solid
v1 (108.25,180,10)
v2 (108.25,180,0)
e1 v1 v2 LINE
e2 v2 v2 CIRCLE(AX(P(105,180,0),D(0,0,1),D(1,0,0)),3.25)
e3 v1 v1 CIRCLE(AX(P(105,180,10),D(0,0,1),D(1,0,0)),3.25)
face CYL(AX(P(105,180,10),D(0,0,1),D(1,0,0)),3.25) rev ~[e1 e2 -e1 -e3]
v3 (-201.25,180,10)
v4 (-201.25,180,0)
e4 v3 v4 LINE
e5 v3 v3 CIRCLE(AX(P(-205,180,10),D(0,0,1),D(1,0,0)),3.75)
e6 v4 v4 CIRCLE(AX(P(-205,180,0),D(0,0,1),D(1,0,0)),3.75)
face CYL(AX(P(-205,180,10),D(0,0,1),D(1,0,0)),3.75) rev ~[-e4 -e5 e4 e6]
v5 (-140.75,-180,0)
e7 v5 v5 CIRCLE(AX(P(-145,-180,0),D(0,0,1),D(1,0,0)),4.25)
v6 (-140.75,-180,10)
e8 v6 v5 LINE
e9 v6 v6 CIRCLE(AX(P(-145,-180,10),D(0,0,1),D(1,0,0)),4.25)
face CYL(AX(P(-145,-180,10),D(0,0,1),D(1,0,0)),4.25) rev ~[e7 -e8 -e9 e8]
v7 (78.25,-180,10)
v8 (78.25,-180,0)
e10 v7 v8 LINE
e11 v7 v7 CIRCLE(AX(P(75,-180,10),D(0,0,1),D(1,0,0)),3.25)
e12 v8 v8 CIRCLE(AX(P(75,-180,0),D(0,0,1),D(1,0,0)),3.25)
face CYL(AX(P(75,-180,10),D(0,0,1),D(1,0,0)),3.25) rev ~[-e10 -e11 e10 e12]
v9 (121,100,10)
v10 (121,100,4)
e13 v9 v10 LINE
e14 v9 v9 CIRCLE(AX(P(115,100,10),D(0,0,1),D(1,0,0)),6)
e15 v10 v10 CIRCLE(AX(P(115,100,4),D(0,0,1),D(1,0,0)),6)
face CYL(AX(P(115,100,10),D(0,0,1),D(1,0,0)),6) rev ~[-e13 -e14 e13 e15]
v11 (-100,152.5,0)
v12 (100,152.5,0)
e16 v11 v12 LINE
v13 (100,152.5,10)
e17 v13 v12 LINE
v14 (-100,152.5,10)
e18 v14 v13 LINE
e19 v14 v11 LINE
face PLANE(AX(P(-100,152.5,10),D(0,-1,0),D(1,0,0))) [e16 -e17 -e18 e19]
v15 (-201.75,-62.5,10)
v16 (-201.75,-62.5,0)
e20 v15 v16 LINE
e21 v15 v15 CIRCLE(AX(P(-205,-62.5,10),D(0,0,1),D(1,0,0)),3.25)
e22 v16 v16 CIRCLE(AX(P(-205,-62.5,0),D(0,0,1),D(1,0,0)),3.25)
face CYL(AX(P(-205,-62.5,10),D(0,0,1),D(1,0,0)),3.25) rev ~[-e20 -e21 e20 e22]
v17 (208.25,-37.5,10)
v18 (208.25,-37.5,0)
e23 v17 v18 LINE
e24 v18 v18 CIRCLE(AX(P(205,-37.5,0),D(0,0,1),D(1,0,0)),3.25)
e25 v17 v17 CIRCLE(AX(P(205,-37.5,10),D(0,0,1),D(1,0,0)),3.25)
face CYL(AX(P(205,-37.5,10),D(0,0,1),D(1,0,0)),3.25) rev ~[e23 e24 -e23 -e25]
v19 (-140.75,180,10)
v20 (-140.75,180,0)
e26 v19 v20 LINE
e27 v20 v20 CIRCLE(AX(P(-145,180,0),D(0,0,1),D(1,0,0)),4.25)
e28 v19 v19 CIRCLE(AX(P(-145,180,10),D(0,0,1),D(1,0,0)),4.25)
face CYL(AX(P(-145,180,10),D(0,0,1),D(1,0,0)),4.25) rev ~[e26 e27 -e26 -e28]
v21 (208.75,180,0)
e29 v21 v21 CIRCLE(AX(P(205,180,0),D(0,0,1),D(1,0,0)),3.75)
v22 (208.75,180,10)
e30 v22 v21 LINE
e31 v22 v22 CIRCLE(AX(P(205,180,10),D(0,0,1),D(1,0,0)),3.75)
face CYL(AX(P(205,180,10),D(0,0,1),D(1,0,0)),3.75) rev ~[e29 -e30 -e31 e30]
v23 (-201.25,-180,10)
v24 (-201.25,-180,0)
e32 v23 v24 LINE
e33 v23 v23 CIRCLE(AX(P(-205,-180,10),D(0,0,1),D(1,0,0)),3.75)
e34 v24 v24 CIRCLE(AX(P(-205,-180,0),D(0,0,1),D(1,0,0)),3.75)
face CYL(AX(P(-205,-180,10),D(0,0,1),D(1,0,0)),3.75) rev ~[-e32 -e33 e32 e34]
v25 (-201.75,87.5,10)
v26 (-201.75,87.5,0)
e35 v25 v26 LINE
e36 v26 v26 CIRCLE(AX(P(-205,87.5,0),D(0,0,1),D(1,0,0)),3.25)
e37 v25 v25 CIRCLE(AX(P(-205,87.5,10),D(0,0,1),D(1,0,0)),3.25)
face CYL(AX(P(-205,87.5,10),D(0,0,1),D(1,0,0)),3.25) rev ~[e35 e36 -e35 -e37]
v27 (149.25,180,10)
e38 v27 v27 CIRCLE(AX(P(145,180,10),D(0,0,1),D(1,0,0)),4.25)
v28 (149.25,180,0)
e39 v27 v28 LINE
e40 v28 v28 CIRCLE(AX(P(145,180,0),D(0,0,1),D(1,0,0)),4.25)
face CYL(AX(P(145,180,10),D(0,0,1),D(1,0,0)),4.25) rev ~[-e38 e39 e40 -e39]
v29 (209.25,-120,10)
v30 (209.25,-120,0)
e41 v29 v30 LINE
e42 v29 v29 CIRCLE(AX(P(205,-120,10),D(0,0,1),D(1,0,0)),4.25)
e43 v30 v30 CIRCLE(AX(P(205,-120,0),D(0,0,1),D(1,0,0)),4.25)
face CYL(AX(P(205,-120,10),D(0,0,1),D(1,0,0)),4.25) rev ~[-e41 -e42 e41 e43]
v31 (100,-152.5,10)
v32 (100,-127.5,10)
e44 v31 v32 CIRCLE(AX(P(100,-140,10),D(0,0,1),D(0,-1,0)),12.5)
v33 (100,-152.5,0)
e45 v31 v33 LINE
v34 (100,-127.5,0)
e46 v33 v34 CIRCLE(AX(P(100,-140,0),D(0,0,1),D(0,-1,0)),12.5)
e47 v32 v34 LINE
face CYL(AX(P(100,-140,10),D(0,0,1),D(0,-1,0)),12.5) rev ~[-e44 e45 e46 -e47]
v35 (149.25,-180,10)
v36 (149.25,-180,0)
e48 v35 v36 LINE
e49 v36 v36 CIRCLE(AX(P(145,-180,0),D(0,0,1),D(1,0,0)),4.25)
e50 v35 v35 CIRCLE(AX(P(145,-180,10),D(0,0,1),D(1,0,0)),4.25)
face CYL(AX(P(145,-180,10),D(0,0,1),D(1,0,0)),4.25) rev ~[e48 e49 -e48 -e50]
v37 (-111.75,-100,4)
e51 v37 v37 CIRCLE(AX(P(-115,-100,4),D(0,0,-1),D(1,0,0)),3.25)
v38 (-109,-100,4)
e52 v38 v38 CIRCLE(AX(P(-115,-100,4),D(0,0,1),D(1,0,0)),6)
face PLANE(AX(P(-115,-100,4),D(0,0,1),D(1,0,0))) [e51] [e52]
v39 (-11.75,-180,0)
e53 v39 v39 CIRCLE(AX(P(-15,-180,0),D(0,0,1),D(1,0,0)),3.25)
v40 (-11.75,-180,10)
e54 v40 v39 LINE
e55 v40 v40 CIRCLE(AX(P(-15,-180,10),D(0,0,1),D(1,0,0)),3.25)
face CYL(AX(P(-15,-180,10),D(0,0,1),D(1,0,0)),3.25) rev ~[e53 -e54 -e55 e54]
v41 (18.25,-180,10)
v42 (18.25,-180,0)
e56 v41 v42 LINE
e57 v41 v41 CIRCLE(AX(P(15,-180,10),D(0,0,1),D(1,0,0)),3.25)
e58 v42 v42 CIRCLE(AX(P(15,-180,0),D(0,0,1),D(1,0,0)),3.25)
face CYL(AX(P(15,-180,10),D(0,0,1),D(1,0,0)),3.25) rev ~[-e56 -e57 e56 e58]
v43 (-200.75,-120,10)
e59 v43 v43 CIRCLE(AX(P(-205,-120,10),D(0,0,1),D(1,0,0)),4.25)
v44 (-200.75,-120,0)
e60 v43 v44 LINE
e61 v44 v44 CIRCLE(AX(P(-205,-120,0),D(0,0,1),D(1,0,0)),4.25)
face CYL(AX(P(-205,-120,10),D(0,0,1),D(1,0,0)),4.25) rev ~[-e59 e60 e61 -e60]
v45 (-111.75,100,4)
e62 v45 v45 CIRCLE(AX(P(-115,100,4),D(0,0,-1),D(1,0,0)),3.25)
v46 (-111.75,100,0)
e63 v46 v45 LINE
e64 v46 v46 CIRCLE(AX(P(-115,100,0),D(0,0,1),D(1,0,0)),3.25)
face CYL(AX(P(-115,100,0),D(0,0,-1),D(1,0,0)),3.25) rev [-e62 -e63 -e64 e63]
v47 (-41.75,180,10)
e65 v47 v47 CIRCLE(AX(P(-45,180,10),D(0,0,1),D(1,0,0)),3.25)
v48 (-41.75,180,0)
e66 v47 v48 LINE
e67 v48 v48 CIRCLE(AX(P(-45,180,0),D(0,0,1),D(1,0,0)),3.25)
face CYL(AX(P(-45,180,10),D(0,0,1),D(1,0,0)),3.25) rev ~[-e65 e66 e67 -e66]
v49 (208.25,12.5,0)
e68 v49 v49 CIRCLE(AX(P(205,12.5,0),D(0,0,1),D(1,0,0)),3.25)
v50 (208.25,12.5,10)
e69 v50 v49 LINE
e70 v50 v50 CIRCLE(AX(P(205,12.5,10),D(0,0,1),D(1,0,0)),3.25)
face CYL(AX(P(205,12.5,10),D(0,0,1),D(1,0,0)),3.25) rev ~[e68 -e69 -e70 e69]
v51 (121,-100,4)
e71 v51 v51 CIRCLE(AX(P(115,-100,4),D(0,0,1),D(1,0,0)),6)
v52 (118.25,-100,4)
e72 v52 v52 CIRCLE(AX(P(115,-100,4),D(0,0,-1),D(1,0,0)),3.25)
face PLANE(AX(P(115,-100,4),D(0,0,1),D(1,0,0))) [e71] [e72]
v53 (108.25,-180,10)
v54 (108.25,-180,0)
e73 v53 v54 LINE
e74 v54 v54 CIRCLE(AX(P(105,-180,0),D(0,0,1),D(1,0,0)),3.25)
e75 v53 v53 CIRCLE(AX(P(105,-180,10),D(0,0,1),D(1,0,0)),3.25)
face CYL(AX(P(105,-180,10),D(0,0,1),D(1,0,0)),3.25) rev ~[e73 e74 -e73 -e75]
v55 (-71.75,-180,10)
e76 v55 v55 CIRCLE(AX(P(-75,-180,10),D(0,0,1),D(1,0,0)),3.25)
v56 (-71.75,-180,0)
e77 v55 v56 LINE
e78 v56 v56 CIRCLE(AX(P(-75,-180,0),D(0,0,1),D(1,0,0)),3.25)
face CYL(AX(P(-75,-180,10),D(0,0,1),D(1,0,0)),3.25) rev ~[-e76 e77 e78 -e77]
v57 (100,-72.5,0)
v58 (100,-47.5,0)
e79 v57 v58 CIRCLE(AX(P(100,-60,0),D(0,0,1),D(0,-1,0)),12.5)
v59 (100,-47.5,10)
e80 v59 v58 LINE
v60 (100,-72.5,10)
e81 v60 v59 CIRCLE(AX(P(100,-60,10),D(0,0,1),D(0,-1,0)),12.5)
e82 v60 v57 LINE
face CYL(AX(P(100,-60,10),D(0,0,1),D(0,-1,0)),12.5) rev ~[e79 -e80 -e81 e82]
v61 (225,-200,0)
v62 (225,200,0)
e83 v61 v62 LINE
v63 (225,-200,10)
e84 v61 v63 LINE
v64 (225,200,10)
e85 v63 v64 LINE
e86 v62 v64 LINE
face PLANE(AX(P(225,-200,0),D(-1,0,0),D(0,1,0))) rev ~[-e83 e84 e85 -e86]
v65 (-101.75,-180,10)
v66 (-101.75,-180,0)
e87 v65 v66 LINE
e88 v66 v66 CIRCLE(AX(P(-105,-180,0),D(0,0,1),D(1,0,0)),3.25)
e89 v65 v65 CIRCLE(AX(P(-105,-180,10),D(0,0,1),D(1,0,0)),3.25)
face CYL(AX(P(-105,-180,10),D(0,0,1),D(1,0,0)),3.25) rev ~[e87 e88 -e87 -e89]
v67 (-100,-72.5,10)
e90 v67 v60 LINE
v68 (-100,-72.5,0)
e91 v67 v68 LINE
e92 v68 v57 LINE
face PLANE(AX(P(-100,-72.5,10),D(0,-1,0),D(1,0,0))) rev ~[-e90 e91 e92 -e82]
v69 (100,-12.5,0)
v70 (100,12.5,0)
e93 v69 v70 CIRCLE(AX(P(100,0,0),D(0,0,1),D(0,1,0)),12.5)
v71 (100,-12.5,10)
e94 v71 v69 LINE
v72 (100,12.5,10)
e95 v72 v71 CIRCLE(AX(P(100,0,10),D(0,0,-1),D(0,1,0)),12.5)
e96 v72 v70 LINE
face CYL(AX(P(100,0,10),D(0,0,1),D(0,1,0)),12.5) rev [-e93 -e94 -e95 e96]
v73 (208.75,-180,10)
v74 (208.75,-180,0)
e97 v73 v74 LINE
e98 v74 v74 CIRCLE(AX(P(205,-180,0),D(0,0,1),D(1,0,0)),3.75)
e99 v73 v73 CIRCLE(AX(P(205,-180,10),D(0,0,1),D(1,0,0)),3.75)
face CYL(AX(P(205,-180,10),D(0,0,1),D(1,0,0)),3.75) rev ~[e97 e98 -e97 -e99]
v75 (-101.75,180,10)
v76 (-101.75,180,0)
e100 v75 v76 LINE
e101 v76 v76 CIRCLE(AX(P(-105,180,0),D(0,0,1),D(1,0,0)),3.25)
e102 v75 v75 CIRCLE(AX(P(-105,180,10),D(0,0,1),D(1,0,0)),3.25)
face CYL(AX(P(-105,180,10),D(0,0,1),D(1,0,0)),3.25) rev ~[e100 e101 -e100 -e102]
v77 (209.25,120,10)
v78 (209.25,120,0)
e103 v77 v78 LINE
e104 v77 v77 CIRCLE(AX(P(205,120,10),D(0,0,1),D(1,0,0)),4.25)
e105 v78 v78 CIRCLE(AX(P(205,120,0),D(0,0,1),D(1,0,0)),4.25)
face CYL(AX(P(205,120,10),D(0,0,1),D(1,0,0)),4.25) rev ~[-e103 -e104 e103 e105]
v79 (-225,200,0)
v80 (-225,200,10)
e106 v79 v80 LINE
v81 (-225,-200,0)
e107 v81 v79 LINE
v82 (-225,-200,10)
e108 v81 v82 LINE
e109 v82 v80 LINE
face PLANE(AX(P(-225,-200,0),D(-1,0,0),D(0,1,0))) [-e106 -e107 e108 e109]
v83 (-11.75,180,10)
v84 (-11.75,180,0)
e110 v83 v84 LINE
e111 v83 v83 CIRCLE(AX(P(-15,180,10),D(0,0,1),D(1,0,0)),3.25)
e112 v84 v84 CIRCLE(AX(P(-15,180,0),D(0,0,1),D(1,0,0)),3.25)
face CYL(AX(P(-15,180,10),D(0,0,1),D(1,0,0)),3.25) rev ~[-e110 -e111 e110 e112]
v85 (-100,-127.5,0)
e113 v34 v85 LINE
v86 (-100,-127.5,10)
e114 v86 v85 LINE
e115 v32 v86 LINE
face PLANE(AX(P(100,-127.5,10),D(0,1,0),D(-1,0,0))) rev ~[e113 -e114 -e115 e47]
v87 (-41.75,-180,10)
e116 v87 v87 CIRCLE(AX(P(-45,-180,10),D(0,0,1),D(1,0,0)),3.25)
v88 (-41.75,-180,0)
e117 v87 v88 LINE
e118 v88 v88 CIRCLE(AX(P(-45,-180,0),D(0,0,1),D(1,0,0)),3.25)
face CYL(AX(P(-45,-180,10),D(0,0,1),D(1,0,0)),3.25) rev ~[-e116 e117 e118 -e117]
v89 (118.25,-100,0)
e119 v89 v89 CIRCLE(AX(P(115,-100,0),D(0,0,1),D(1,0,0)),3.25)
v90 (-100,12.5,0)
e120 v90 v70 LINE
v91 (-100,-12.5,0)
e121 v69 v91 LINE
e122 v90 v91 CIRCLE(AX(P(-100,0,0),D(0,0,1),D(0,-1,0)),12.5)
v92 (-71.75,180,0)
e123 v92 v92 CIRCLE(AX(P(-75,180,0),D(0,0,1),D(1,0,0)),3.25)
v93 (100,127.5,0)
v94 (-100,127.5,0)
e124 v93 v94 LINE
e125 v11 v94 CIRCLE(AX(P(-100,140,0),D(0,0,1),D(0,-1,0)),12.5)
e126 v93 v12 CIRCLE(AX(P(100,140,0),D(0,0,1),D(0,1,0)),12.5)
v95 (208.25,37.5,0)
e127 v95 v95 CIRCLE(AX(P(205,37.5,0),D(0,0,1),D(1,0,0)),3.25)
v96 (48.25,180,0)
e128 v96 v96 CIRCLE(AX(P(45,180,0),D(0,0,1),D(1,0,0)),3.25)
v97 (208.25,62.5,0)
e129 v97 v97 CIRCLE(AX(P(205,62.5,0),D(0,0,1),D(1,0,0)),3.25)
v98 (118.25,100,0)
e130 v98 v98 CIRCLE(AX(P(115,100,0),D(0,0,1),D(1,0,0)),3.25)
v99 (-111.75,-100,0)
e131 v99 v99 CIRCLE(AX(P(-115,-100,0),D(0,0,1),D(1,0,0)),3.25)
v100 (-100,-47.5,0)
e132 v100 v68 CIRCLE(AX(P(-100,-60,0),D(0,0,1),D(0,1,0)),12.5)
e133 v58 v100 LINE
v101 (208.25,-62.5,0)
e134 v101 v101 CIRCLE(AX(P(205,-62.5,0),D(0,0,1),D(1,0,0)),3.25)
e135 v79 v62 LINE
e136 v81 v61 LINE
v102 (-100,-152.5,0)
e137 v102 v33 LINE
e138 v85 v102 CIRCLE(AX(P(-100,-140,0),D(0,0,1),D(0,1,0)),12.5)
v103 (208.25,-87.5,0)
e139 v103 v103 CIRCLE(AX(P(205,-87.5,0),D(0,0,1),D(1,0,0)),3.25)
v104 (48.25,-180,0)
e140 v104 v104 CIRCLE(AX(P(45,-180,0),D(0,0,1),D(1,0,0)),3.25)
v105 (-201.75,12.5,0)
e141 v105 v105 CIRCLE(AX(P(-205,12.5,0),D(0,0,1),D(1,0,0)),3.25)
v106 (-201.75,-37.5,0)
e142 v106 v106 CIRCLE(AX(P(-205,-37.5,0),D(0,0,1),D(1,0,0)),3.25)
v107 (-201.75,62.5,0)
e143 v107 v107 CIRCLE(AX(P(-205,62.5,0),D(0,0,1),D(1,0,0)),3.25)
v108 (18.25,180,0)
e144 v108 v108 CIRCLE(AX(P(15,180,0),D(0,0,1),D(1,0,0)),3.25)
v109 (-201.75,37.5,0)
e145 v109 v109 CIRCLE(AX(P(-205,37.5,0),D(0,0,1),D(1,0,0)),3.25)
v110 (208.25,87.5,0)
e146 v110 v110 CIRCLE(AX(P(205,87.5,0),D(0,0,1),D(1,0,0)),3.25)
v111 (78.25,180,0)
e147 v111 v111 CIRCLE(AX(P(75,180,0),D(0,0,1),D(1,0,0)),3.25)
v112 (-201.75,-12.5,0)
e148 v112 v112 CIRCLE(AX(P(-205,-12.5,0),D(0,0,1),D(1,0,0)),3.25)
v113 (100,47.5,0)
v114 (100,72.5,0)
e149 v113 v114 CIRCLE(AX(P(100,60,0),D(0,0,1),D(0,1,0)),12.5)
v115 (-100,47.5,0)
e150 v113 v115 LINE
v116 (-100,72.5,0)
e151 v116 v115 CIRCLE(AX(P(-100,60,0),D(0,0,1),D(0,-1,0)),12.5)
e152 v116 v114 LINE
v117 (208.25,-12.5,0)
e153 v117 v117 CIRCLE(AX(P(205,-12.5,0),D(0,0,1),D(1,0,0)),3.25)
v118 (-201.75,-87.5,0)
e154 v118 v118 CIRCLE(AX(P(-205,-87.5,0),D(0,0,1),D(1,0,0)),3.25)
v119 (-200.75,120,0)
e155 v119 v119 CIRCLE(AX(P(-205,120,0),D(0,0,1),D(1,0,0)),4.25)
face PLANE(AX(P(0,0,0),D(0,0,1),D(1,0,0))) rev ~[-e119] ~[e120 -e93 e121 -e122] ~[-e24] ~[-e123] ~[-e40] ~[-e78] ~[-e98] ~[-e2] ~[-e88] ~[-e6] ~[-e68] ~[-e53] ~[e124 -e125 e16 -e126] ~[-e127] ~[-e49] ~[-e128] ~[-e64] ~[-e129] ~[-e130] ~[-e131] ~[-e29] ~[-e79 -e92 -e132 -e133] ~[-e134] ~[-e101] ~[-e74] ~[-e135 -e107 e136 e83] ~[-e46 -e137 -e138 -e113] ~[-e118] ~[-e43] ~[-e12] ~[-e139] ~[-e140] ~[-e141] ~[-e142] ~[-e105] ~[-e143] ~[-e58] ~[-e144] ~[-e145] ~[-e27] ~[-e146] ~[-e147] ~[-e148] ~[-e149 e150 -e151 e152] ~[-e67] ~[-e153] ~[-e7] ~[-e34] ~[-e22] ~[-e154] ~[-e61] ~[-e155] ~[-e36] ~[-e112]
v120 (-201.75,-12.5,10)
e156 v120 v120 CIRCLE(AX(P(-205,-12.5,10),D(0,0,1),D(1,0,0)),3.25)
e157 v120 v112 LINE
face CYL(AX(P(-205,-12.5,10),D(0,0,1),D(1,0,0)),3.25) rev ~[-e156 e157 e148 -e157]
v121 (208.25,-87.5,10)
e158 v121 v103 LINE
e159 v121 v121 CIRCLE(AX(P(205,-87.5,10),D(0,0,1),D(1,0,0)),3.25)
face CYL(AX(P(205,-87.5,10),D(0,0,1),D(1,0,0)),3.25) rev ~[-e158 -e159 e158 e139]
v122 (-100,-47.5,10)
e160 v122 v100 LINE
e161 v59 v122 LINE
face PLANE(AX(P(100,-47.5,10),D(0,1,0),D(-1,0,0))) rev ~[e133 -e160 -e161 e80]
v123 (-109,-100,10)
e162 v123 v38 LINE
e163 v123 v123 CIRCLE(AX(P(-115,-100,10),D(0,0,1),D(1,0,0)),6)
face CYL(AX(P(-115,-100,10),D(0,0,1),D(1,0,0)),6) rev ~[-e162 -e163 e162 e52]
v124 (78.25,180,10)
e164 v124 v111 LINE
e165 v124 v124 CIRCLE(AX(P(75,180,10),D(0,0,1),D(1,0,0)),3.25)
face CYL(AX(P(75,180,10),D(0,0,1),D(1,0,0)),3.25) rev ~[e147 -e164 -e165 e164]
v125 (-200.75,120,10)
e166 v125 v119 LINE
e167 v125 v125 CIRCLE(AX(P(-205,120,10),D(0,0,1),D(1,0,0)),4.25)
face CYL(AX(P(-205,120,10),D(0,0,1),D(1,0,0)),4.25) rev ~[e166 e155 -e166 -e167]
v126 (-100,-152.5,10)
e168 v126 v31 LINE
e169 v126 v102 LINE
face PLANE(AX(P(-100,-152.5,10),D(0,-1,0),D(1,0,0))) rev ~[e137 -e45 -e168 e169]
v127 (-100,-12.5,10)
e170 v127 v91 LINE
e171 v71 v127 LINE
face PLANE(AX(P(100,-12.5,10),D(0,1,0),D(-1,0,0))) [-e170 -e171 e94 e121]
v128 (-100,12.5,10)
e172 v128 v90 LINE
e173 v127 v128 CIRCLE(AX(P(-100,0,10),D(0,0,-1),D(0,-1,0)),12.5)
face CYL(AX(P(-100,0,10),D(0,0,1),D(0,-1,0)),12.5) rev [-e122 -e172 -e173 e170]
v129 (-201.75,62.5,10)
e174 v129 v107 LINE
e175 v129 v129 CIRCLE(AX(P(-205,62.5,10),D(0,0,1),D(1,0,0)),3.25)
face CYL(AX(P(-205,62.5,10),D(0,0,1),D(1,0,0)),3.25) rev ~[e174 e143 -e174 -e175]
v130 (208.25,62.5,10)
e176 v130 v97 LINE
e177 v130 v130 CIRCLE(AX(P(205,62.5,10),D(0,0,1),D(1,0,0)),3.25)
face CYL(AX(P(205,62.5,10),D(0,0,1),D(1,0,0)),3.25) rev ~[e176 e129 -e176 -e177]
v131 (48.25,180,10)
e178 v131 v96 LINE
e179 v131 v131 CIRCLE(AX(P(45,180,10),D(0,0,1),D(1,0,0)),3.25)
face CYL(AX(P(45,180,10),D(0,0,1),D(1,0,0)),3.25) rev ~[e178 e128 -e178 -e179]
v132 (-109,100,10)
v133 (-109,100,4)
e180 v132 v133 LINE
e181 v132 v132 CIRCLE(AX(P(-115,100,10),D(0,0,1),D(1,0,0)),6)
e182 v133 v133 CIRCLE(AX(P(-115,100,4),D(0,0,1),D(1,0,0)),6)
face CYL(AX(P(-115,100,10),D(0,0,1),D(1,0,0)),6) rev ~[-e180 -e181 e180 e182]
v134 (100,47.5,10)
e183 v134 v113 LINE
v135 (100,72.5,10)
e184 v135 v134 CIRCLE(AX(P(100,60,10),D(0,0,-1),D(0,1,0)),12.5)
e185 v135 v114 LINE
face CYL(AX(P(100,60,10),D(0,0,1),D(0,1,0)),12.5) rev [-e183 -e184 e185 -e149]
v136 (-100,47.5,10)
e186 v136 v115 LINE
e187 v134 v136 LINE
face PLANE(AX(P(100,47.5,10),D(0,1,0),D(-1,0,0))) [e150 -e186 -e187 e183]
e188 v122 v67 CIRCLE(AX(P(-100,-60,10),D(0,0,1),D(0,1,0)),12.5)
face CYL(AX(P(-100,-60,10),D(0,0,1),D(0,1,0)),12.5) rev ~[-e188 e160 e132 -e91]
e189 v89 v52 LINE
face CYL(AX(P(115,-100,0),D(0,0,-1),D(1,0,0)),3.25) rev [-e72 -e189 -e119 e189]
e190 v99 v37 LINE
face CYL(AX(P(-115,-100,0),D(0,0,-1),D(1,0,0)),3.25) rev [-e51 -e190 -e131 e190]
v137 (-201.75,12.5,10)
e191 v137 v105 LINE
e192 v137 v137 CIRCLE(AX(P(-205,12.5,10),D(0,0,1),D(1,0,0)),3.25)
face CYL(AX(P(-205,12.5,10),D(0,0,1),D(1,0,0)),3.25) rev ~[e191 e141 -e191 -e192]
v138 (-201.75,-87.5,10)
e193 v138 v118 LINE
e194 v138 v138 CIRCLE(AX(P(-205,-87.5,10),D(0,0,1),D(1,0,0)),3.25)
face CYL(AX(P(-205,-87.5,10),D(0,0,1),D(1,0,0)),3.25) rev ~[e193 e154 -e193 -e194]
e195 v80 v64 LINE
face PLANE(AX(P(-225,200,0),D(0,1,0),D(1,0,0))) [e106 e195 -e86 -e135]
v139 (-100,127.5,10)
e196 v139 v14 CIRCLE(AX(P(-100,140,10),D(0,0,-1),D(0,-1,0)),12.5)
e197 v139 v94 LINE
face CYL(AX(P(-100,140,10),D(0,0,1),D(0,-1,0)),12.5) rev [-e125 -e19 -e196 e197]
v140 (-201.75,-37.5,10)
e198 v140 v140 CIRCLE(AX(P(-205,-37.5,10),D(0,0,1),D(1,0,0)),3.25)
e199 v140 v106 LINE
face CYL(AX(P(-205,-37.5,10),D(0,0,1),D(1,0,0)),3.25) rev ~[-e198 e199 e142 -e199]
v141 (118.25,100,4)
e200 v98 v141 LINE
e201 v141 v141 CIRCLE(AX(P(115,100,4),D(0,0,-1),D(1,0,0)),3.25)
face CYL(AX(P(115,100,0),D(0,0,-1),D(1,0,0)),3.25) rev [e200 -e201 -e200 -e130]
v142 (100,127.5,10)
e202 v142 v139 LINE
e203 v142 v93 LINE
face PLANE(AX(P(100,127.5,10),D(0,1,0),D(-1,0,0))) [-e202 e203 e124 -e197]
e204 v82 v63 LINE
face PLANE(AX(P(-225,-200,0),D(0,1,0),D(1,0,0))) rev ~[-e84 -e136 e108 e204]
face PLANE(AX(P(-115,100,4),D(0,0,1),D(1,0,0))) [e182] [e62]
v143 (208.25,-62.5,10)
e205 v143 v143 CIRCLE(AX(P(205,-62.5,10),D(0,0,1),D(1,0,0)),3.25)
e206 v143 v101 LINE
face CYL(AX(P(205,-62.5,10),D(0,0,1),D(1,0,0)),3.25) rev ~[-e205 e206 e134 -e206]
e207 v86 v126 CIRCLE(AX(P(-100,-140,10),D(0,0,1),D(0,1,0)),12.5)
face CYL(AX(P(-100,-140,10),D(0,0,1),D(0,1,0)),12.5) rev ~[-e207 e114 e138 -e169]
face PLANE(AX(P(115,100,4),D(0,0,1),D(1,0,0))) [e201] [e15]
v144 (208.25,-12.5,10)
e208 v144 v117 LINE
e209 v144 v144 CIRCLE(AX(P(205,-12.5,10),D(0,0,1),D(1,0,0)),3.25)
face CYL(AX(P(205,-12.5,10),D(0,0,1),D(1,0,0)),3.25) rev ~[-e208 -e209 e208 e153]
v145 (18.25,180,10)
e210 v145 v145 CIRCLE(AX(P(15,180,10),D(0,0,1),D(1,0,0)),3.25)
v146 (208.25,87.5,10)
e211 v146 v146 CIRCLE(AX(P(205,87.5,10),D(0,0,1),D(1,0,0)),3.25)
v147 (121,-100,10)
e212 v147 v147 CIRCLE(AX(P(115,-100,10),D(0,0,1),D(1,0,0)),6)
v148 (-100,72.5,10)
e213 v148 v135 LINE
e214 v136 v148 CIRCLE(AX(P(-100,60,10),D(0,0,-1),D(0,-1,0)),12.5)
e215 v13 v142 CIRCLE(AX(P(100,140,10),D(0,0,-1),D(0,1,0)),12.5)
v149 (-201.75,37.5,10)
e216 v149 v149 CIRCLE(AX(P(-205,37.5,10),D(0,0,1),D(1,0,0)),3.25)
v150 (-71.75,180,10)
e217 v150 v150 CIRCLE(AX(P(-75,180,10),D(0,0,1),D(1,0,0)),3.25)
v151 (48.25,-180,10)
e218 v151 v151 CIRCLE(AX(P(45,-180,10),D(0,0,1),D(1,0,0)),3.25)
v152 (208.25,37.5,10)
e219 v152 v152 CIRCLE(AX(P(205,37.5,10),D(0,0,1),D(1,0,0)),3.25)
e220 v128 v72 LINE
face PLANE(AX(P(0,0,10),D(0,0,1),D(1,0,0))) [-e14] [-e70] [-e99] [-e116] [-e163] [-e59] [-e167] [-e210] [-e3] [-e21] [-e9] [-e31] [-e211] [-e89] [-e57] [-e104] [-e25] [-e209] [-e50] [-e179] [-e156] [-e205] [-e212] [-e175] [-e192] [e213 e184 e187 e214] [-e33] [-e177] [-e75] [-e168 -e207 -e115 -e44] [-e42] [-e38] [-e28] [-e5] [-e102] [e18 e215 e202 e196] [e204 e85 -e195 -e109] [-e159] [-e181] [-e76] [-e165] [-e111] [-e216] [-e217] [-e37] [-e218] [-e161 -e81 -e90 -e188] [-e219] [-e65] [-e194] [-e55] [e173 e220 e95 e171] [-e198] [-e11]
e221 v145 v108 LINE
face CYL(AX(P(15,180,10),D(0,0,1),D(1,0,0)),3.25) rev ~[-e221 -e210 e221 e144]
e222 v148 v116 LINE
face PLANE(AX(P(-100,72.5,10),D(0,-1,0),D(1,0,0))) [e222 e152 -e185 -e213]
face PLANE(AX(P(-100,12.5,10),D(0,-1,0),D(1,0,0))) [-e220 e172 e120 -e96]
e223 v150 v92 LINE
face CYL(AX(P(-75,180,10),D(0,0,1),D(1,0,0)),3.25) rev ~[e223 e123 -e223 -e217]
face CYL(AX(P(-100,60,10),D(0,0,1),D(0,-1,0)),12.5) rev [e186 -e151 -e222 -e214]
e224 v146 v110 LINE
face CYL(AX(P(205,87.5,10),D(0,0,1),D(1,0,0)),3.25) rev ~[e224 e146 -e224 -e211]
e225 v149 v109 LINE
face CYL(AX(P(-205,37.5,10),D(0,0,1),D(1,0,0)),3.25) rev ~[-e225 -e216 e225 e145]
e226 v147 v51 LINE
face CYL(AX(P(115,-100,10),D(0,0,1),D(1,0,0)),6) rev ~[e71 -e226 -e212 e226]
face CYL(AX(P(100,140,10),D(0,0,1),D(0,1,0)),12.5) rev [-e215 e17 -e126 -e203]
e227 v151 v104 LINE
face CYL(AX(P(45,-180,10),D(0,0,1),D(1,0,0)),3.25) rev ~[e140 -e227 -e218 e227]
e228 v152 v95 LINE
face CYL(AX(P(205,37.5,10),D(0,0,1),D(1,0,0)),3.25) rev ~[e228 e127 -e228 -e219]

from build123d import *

# Parameters (mm, degrees)
SKETCH_1_W          = 450
SKETCH_1_H          = 400
SKETCH_1_R          = 3.25
EXTRUDE_1_DEPTH     = 10
SKETCH_2_R          = 6
CUT_EXTRUDE_1_DEPTH = 6
SKETCH_3_R          = 3.75
SKETCH_3_R_2        = 4.25
CUT_EXTRUDE_2_DEPTH = 50
CUT_EXTRUDE_3_DEPTH = 50
SKETCH_5_R          = 3.25
CUT_EXTRUDE_4_DEPTH = 90


with BuildPart() as part:
    # 草图1 → 凸台-拉伸1 (new body)
    with BuildSketch(Plane.XY):
        Rectangle(SKETCH_1_W, SKETCH_1_H)
        with Locations((-115, 100)):
            Circle(SKETCH_1_R, mode=Mode.SUBTRACT)
        with Locations((115, 100)):
            Circle(SKETCH_1_R, mode=Mode.SUBTRACT)
        with Locations((115, -100)):
            Circle(SKETCH_1_R, mode=Mode.SUBTRACT)
        with Locations((-115, -100)):
            Circle(SKETCH_1_R, mode=Mode.SUBTRACT)
    extrude(amount=EXTRUDE_1_DEPTH)

    # 草图2 → 切除-拉伸1 (cut)
    with BuildSketch(Plane.XY.offset(10)):
        with Locations((-115, 100)):
            Circle(SKETCH_2_R)
        with Locations((115, 100)):
            Circle(SKETCH_2_R)
        with Locations((115, -100)):
            Circle(SKETCH_2_R)
        with Locations((-115, -100)):
            Circle(SKETCH_2_R)
    extrude(amount=-CUT_EXTRUDE_1_DEPTH, mode=Mode.SUBTRACT)

    # 草图3 → 切除-拉伸2 (cut)
    with BuildSketch(Plane.XY.offset(10)):
        with Locations((205, -180)):
            Circle(SKETCH_3_R)
        with Locations((205, -120)):
            Circle(SKETCH_3_R_2)
        with Locations((145, -180)):
            Circle(SKETCH_3_R_2)
        with Locations((145, 180)):
            Circle(SKETCH_3_R_2)
        with Locations((205, 120)):
            Circle(SKETCH_3_R_2)
        with Locations((205, 180)):
            Circle(SKETCH_3_R)
        with Locations((-205, 180)):
            Circle(SKETCH_3_R)
        with Locations((-205, 120)):
            Circle(SKETCH_3_R_2)
        with Locations((-145, 180)):
            Circle(SKETCH_3_R_2)
        with Locations((-145, -180)):
            Circle(SKETCH_3_R_2)
        with Locations((-205, -120)):
            Circle(SKETCH_3_R_2)
        with Locations((-205, -180)):
            Circle(SKETCH_3_R)
    extrude(amount=-CUT_EXTRUDE_2_DEPTH, mode=Mode.SUBTRACT)

    # 草图4 → 切除-拉伸3 (cut)
    with BuildSketch(Plane.XY.offset(10)):
        with BuildLine():
            Line((100, -12.5), (-100, -12.5))
            ThreePointArc((-100, -12.5), (-112.5, 0), (-100, 12.5))
            Line((-100, 12.5), (100, 12.5))
            ThreePointArc((100, 12.5), (112.5, 0), (100, -12.5))
        make_face()
        with BuildLine():
            Line((100, 47.5), (-100, 47.5))
            ThreePointArc((-100, 47.5), (-112.5, 60), (-100, 72.5))
            Line((-100, 72.5), (100, 72.5))
            ThreePointArc((100, 72.5), (112.5, 60), (100, 47.5))
        make_face()
        with BuildLine():
            Line((100, -47.5), (-100, -47.5))
            ThreePointArc((-100, -47.5), (-112.5, -60), (-100, -72.5))
            Line((-100, -72.5), (100, -72.5))
            ThreePointArc((100, -72.5), (112.5, -60), (100, -47.5))
        make_face()
        with BuildLine():
            Line((100, 127.5), (-100, 127.5))
            ThreePointArc((-100, 127.5), (-112.5, 140), (-100, 152.5))
            Line((-100, 152.5), (100, 152.5))
            ThreePointArc((100, 152.5), (112.5, 140), (100, 127.5))
        make_face()
        with BuildLine():
            Line((100, -127.5), (-100, -127.5))
            ThreePointArc((-100, -127.5), (-112.5, -140), (-100, -152.5))
            Line((-100, -152.5), (100, -152.5))
            ThreePointArc((100, -152.5), (112.5, -140), (100, -127.5))
        make_face()
    extrude(amount=-CUT_EXTRUDE_3_DEPTH, mode=Mode.SUBTRACT)

    # 草图5 → 切除-拉伸4 (cut)
    with BuildSketch(Plane.XY.offset(10)):
        with Locations((-15, 180)):
            Circle(SKETCH_5_R)
        with Locations((-45, 180)):
            Circle(SKETCH_5_R)
        with Locations((-75, 180)):
            Circle(SKETCH_5_R)
        with Locations((-105, 180)):
            Circle(SKETCH_5_R)
        with Locations((15, 180)):
            Circle(SKETCH_5_R)
        with Locations((45, 180)):
            Circle(SKETCH_5_R)
        with Locations((75, 180)):
            Circle(SKETCH_5_R)
        with Locations((105, 180)):
            Circle(SKETCH_5_R)
        with Locations((105, -180)):
            Circle(SKETCH_5_R)
        with Locations((75, -180)):
            Circle(SKETCH_5_R)
        with Locations((45, -180)):
            Circle(SKETCH_5_R)
        with Locations((15, -180)):
            Circle(SKETCH_5_R)
        with Locations((-105, -180)):
            Circle(SKETCH_5_R)
        with Locations((-75, -180)):
            Circle(SKETCH_5_R)
        with Locations((-45, -180)):
            Circle(SKETCH_5_R)
        with Locations((-15, -180)):
            Circle(SKETCH_5_R)
        with Locations((205, 12.5)):
            Circle(SKETCH_5_R)
        with Locations((205, 37.5)):
            Circle(SKETCH_5_R)
        with Locations((205, 62.5)):
            Circle(SKETCH_5_R)
        with Locations((205, 87.5)):
            Circle(SKETCH_5_R)
        with Locations((205, -87.5)):
            Circle(SKETCH_5_R)
        with Locations((205, -62.5)):
            Circle(SKETCH_5_R)
        with Locations((205, -37.5)):
            Circle(SKETCH_5_R)
        with Locations((205, -12.5)):
            Circle(SKETCH_5_R)
        with Locations((-205, -12.5)):
            Circle(SKETCH_5_R)
        with Locations((-205, -37.5)):
            Circle(SKETCH_5_R)
        with Locations((-205, -62.5)):
            Circle(SKETCH_5_R)
        with Locations((-205, -87.5)):
            Circle(SKETCH_5_R)
        with Locations((-205, 87.5)):
            Circle(SKETCH_5_R)
        with Locations((-205, 62.5)):
            Circle(SKETCH_5_R)
        with Locations((-205, 37.5)):
            Circle(SKETCH_5_R)
        with Locations((-205, 12.5)):
            Circle(SKETCH_5_R)
    extrude(amount=-CUT_EXTRUDE_4_DEPTH, mode=Mode.SUBTRACT)


solid = part.part
